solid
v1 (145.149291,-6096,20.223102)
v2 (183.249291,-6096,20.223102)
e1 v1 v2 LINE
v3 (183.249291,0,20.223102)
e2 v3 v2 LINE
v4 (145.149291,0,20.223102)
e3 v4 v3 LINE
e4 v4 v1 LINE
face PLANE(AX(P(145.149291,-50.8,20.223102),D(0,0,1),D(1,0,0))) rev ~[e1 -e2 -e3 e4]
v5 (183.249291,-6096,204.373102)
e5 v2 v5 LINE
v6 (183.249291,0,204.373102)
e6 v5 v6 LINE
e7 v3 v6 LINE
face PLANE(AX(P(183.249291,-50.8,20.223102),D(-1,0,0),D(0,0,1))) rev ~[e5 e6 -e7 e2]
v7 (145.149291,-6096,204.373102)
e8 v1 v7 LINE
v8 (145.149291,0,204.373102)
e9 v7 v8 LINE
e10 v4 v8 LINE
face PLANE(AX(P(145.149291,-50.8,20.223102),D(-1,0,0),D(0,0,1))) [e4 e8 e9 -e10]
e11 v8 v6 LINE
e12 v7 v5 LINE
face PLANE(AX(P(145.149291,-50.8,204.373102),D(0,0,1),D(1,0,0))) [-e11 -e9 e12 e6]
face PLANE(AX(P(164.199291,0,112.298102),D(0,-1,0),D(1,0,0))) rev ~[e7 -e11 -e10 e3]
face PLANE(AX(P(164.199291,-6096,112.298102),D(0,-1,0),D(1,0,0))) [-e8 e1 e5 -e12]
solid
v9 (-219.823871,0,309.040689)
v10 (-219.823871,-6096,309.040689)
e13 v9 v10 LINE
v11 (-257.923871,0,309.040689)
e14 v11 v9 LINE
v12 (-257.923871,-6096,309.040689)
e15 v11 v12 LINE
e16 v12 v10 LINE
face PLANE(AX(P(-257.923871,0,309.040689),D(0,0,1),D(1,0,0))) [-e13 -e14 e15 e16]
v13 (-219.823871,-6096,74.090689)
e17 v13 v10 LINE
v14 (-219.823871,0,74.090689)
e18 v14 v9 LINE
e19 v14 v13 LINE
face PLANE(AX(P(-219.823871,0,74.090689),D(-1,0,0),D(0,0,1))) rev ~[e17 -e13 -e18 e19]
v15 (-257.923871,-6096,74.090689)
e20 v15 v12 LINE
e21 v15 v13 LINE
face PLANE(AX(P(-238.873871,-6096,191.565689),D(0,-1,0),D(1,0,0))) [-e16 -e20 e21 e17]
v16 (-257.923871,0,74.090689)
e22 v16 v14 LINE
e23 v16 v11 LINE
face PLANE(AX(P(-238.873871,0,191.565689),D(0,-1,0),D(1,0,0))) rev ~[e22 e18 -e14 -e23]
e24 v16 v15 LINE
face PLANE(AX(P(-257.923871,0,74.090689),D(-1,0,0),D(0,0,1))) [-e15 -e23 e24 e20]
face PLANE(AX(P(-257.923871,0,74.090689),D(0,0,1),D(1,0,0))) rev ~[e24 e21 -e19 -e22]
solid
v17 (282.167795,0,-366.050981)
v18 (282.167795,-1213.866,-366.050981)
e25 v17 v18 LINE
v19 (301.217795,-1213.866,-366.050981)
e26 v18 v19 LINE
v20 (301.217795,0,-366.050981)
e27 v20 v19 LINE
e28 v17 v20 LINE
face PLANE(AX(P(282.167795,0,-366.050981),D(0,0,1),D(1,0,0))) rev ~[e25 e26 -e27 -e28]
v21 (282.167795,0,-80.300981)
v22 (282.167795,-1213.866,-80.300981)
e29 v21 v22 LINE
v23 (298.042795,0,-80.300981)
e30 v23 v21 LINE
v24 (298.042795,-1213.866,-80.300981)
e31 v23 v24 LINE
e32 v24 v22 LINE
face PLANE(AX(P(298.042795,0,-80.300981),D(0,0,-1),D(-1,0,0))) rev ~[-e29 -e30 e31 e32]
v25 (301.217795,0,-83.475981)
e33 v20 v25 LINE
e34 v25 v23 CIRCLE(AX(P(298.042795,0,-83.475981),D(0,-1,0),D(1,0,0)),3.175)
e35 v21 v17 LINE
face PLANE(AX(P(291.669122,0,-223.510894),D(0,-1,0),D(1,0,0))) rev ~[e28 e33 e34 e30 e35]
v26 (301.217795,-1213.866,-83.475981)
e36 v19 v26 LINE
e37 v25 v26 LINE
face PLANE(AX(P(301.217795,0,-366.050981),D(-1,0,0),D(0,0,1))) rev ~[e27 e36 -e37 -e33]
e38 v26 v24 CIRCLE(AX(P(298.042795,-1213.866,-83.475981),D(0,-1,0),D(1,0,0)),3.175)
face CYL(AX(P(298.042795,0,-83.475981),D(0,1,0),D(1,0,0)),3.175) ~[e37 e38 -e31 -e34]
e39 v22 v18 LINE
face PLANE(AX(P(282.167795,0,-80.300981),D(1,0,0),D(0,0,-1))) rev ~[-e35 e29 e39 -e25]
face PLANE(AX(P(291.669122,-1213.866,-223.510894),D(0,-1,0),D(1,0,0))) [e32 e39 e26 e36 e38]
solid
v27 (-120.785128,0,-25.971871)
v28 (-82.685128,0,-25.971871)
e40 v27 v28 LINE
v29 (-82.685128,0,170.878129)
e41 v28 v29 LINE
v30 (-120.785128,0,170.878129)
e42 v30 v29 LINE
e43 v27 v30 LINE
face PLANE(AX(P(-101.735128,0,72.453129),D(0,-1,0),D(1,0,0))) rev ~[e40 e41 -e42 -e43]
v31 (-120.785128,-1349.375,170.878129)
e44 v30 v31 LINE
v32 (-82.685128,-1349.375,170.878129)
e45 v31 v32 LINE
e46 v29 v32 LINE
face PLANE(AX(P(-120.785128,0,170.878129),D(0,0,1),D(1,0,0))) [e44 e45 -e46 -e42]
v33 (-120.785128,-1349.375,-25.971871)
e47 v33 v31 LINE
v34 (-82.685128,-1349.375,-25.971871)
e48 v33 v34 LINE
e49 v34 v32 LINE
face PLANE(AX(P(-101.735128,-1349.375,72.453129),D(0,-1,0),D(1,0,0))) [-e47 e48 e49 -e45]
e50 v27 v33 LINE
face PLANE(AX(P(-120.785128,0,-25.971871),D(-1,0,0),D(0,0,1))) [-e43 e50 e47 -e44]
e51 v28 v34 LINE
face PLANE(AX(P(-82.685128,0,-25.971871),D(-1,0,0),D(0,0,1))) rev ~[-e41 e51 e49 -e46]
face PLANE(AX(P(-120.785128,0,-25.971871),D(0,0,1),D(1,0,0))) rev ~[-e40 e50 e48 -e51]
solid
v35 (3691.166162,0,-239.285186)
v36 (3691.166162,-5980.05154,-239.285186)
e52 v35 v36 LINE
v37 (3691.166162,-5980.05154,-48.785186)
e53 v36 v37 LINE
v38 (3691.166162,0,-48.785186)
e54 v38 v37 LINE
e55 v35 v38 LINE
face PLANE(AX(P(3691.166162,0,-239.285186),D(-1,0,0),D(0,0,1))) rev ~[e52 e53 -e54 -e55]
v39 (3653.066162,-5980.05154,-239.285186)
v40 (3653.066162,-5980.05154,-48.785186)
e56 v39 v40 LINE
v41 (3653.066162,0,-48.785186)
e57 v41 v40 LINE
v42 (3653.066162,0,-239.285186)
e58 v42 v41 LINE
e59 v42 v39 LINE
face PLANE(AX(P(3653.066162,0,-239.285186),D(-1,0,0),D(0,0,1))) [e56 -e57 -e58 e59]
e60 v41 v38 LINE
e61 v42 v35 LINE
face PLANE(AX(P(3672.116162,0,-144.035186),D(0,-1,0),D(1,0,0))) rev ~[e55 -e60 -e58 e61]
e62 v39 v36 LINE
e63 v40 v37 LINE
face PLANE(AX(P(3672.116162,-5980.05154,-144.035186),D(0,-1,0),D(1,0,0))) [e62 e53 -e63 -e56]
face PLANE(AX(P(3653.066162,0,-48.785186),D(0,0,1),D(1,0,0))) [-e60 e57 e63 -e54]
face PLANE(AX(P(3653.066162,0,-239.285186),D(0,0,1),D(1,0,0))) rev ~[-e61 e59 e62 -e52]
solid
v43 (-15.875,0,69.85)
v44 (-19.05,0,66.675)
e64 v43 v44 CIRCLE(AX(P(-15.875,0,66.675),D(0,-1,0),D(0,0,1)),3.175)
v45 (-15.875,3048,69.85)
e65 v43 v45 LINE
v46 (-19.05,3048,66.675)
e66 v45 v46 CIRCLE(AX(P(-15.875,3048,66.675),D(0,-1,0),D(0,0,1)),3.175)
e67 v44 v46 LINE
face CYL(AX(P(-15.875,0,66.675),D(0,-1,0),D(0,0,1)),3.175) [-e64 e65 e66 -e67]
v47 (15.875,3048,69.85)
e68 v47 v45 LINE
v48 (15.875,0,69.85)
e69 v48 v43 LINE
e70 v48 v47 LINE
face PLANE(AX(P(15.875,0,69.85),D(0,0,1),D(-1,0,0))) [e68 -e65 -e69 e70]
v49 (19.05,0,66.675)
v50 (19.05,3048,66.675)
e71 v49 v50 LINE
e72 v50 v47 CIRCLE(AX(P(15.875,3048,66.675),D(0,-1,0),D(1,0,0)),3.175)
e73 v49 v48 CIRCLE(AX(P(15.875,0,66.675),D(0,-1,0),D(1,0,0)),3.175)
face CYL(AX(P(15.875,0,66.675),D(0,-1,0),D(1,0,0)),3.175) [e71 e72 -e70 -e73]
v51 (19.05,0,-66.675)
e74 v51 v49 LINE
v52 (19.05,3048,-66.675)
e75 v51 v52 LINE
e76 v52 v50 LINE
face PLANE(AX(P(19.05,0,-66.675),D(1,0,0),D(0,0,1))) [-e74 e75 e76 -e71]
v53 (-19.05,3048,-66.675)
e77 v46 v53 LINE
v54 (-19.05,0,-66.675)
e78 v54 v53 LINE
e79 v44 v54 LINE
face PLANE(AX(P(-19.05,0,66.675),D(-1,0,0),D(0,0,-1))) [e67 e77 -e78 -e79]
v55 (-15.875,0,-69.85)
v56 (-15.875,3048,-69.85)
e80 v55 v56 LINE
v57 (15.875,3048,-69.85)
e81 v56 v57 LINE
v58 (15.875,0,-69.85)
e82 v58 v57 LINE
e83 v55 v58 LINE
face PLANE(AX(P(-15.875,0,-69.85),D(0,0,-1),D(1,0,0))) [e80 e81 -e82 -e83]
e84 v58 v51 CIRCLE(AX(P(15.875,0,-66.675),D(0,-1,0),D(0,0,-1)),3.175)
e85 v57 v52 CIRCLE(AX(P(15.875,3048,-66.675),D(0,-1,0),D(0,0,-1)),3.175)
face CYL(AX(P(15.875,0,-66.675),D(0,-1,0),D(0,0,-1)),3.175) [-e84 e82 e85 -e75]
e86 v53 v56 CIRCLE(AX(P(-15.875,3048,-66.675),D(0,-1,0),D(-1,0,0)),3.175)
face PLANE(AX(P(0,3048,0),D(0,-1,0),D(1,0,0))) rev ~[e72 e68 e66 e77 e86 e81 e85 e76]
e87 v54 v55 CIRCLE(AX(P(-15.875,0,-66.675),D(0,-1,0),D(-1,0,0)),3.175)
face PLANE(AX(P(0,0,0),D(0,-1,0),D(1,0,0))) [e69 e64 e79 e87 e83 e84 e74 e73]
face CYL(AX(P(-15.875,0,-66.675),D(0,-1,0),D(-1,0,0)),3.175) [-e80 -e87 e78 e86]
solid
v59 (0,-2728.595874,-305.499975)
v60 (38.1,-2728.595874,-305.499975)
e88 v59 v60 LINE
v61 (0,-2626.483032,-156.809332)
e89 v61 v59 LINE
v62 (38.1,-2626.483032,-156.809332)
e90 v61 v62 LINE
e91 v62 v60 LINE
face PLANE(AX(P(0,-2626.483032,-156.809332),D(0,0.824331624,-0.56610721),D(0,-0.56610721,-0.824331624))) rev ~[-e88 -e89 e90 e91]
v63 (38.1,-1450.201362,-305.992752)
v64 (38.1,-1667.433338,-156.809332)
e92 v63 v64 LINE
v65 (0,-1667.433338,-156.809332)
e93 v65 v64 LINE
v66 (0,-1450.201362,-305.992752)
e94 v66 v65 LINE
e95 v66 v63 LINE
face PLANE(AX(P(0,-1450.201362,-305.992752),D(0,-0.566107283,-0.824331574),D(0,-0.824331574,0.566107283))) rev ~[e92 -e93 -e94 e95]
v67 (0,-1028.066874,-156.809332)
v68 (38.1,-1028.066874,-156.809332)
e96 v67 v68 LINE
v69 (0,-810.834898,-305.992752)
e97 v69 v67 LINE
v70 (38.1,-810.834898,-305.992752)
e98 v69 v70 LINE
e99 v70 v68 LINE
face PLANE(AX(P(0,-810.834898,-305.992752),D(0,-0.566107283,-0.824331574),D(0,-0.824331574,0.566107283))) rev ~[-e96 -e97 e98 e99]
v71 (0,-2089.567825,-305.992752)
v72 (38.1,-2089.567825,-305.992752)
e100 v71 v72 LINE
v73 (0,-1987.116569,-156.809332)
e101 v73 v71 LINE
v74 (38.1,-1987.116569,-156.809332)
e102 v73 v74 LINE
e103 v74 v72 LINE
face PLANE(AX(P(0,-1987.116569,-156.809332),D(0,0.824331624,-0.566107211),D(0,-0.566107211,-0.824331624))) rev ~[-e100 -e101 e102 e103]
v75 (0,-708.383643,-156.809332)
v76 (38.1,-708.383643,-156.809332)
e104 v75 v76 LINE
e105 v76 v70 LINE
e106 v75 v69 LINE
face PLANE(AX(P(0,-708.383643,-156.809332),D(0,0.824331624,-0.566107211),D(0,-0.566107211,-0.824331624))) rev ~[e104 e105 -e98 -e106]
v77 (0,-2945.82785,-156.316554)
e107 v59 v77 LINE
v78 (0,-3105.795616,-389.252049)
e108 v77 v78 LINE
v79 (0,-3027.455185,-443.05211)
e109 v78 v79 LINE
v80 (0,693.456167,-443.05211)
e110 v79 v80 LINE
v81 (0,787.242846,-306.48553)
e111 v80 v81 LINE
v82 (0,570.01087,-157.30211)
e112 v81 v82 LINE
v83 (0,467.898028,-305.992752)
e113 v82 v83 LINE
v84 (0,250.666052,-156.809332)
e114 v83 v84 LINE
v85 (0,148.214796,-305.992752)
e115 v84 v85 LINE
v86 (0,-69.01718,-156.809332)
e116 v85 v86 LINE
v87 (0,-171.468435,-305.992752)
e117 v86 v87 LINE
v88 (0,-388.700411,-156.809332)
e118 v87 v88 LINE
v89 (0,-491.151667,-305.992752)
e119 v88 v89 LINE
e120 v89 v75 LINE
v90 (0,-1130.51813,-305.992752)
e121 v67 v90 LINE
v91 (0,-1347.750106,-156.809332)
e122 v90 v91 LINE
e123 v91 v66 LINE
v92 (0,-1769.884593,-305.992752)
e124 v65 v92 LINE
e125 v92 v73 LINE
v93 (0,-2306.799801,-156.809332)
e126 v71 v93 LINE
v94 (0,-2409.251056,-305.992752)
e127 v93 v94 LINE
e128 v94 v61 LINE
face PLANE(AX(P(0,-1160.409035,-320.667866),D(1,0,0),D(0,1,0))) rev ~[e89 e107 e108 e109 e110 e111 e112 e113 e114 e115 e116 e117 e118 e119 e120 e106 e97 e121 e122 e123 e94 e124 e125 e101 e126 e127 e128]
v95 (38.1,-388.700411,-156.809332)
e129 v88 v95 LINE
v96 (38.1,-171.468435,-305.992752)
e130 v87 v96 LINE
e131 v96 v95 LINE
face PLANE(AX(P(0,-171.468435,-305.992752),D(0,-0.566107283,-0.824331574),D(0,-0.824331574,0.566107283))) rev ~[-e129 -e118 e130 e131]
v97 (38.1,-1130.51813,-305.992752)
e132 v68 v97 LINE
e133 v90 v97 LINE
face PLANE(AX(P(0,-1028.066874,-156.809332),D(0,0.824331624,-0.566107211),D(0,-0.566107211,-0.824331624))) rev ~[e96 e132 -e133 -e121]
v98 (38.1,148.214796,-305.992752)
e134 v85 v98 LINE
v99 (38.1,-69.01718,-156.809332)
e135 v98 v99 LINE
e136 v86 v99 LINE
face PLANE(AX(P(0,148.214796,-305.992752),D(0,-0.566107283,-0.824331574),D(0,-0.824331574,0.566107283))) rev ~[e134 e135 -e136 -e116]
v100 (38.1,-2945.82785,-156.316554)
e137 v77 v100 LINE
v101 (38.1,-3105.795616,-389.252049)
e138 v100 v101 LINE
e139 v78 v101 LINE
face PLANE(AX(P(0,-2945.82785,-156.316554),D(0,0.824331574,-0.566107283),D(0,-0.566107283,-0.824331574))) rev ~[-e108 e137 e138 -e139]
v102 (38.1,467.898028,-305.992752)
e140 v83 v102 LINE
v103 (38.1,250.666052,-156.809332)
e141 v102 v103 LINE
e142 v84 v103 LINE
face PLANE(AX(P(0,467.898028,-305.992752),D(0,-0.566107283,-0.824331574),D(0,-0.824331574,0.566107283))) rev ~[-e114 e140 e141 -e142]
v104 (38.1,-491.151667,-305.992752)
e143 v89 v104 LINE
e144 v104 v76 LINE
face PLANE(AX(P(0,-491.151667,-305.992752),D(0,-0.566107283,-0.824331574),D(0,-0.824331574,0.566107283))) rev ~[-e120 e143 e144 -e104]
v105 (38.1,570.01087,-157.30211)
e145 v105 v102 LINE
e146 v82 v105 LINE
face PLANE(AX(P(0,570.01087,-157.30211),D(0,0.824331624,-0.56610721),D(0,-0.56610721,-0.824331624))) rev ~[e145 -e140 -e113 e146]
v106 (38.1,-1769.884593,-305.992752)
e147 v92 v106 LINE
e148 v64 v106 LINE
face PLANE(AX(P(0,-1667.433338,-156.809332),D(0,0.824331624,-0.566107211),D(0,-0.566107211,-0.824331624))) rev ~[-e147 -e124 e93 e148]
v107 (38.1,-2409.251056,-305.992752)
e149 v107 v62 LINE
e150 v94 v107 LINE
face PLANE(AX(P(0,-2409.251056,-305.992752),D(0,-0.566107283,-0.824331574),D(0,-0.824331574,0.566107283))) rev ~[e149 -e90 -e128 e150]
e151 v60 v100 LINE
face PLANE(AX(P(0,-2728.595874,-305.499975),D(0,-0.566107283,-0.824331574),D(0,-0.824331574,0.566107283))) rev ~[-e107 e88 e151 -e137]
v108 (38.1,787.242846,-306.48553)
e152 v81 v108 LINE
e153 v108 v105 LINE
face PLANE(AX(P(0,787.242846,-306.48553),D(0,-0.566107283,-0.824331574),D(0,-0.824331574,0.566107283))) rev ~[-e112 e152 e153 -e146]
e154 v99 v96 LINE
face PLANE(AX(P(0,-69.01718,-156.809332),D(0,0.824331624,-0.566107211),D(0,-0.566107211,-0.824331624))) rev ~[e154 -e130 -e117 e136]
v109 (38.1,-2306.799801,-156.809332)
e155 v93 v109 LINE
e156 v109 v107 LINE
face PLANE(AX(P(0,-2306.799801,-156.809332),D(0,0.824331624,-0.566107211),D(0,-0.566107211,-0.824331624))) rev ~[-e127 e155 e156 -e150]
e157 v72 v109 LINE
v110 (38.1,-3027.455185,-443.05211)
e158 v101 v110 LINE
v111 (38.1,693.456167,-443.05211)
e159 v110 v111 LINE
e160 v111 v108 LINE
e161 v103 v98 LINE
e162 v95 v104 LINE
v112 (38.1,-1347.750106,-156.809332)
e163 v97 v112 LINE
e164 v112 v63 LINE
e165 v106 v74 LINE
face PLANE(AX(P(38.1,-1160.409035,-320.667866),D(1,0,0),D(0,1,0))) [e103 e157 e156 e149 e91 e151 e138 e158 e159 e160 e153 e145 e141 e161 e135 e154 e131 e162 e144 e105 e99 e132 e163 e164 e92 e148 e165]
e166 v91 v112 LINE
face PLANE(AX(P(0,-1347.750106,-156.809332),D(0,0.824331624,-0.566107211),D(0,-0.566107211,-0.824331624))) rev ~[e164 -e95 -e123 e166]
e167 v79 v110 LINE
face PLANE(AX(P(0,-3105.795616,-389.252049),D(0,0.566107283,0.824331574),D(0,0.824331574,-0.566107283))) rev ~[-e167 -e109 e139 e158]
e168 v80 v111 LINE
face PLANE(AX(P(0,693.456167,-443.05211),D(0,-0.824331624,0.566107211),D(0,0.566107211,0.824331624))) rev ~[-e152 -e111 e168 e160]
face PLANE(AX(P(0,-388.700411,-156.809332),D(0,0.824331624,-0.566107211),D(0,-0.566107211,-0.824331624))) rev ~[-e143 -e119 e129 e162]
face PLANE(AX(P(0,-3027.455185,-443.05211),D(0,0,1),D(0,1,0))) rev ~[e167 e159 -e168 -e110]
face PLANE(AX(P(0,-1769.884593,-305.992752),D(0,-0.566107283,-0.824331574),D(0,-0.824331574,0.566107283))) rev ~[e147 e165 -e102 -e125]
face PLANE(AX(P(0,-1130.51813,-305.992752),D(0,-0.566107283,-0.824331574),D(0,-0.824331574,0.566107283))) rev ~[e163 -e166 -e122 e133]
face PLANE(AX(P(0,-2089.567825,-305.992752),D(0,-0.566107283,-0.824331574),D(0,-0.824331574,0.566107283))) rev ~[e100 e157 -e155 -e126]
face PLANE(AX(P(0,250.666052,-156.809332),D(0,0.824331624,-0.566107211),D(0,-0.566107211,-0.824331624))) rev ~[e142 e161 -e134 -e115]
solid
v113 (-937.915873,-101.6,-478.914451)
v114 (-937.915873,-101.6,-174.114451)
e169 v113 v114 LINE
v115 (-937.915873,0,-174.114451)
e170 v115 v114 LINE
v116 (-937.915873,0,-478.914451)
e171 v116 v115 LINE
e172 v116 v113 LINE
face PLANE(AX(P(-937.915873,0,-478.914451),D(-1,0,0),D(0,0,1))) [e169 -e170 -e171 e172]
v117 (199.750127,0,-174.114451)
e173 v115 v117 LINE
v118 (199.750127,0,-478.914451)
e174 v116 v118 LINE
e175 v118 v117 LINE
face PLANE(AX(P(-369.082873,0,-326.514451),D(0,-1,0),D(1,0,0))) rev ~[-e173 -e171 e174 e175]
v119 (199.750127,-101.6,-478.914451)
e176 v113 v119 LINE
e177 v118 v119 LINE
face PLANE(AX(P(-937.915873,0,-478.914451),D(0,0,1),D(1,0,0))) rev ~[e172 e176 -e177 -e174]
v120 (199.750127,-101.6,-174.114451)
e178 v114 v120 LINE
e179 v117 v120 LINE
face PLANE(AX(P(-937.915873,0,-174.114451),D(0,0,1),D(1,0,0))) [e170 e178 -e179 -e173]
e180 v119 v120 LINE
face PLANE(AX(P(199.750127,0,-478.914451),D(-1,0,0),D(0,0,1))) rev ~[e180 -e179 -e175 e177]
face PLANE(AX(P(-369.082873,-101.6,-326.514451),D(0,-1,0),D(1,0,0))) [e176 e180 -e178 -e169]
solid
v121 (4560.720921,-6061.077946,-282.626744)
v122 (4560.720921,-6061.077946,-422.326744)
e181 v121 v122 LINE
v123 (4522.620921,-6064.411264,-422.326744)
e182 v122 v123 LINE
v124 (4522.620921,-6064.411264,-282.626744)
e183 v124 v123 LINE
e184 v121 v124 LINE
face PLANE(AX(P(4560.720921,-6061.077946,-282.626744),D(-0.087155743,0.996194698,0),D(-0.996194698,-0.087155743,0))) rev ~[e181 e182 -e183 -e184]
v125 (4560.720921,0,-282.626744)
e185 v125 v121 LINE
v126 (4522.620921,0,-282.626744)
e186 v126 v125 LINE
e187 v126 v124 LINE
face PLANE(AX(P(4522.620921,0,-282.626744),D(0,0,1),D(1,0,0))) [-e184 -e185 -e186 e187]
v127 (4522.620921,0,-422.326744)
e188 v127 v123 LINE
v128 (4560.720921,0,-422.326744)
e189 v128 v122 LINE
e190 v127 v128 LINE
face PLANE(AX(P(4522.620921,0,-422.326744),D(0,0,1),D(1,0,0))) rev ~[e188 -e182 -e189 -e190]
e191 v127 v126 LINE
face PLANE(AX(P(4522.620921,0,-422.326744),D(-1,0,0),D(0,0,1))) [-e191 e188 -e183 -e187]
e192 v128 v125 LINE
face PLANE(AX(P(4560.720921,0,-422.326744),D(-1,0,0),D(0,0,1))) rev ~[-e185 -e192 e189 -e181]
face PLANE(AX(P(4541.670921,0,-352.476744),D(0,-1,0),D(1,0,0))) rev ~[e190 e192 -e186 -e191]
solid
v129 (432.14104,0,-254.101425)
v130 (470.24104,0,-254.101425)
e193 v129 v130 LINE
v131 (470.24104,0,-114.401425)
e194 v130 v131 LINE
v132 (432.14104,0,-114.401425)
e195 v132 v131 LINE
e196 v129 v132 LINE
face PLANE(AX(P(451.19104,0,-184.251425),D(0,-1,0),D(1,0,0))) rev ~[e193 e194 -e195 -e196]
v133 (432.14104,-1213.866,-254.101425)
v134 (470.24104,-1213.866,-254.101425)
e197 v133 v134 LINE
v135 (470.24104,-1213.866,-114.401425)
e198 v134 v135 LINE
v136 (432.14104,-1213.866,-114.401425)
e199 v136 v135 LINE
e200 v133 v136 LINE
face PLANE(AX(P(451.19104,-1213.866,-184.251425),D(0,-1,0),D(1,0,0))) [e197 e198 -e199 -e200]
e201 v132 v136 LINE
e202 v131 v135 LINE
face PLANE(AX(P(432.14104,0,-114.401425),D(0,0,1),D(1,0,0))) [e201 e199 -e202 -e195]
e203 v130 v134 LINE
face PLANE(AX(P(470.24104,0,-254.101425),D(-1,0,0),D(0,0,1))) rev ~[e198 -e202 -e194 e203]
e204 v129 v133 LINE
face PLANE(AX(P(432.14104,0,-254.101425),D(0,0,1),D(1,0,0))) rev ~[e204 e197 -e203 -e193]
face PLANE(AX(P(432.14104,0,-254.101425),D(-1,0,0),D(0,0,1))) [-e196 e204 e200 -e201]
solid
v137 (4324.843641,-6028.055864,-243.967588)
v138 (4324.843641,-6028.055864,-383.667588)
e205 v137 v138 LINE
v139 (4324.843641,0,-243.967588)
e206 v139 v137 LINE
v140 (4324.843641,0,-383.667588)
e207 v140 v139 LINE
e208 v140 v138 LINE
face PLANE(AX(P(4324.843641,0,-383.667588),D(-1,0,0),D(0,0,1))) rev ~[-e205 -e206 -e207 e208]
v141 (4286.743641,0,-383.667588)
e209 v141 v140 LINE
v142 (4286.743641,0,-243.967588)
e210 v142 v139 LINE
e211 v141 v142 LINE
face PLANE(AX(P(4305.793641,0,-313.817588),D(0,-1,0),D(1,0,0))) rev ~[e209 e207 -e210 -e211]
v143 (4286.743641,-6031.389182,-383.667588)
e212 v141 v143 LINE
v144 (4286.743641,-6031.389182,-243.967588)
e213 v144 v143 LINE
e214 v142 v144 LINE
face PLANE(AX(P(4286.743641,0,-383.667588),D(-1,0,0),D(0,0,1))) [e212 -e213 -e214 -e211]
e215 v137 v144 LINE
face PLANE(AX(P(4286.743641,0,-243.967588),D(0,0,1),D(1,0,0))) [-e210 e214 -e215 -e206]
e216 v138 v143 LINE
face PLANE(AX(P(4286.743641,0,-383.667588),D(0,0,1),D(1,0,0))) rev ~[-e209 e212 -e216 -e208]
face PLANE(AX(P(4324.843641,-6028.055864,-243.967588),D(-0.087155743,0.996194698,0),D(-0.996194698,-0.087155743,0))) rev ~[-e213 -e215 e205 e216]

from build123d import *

# Parameters (mm, degrees)
F1_DEPTH  = 3048
F2_W      = 38.1
F2_H      = 184.15
F3_DEPTH  = 50.8
F4_DEPTH  = 6045.2
F5_W      = 38.1
F5_H      = 234.95
F6_DEPTH  = 6096
F7_W      = 139.7
F7_H      = 19.05
F8_DEPTH  = 1137.666
F9_W      = 139.7
F9_H      = 19.05
F11_DEPTH = 1219.2
F17_W     = 38.1
F17_H     = 196.85
F18_DEPTH = 1349.375
F20_DEPTH = 38.1
F21_W     = 38.1
F21_H     = 139.7
F22_DEPTH = 1213.866
F24_DEPTH = 1213.866
F26_W     = 3048
F26_H     = 4572
F27_DEPTH = 152.4
F29_W     = 38.1
F29_H     = 190.5
F30_DEPTH = 5980.05154
F31_W     = 38.1
F31_H     = 139.7
F32_DEPTH = 6066.1558636
F34_DEPTH = 152.4
F35_W     = 38.1
F35_H     = 139.7
F36_DEPTH = 6111.8779464
F38_DEPTH = 152.4
F39_W     = 1137.666
F39_H     = 304.8
F40_DEPTH = 101.6


with BuildPart() as f1:
    # F0 (on Front) → F1 (new body)
    with BuildSketch(Plane.XZ):
        with BuildLine():
            Line((15.875, 69.85), (-15.875, 69.85))
            ThreePointArc((-15.875, 69.85), (-18.1200640303, 68.9200640303), (-19.05, 66.675))
            Line((-19.05, 66.675), (-19.05, -66.675))
            ThreePointArc((-19.05, -66.675), (-18.1200640303, -68.9200640303), (-15.875, -69.85))
            Line((-15.875, -69.85), (15.875, -69.85))
            ThreePointArc((15.875, -69.85), (18.1200640303, -68.9200640303), (19.05, -66.675))
            Line((19.05, -66.675), (19.05, 66.675))
            ThreePointArc((19.05, 66.675), (18.1200640303, 68.9200640303), (15.875, 69.85))
        make_face()
    extrude(amount=-F1_DEPTH)


with BuildPart() as f3:
    # F2 (on Front) → F3 (new body)
    with BuildSketch(Plane.XZ):
        with Locations((164.1992905617, 112.298101601)):
            Rectangle(F2_W, F2_H)
    extrude(amount=F3_DEPTH)

    # F4 (add): a face of the model
    f4_faces = [f3.faces().sort_by_distance(p)[0] for p in [
        (164.1992905617, -50.8, 112.298101601),
    ]]
    extrude(f4_faces, amount=F4_DEPTH)


with BuildPart() as f6:
    # F5 (on Front) → F6 (new body)
    with BuildSketch(Plane.XZ):
        with Locations((-238.8738712788, 191.5656894207)):
            Rectangle(F5_W, F5_H)
    extrude(amount=F6_DEPTH)


with BuildPart() as f8:
    # F7 (on Front) → F8 (new body)
    with BuildSketch(Plane.XZ):
        with Locations((262.851086998, 128.6662210464)):
            Rectangle(F7_W, F7_H)
    extrude(amount=F8_DEPTH)

    # F9 (on face) → F11 (join)
    with BuildSketch(Plane.XZ.offset(1137.666)):
        with Locations((262.851086998, 128.6662210464)):
            Rectangle(F9_W, F9_H)
    extrude(amount=-F11_DEPTH)


with BuildPart() as f12_1:
    # F12: copy of F8
    add(f8.part)


with BuildPart() as f13_1:
    # F13: copy of F8
    add(f8.part)


with BuildPart() as f18:
    # F17 (on Front) → F18 (new body)
    with BuildSketch(Plane.XZ):
        with Locations((-101.7351278543, 72.4531291306)):
            Rectangle(F17_W, F17_H)
    extrude(amount=F18_DEPTH)


with BuildPart() as f20:
    # F19 (on Right) → F20 (new body)
    with BuildSketch(Plane.YZ):
        Polygon((-3027.4551845205, -443.0521097511), (693.4561667744, -443.0521097511), (787.2428459828, -306.4855299511), (570.0108699828, -157.3021097511), (467.8980279751, -305.9927523136), (250.6660519751, -156.8093321136), (148.2147963751, -305.9927523136), (-69.0171796249, -156.8093321136), (-171.4684352249, -305.9927523136), (-388.7004112249, -156.8093321136), (-491.1516668249, -305.9927523136), (-708.3836428249, -156.8093321136), (-810.8348984249, -305.9927523136), (-1028.0668744249, -156.8093321136), (-1130.5181300249, -305.9927523136), (-1347.7501060249, -156.8093321136), (-1450.2013616249, -305.9927523136), (-1667.4333376249, -156.8093321136), (-1769.8845932249, -305.9927523136), (-1987.1165692249, -156.8093321136), (-2089.5678248249, -305.9927523136), (-2306.7998008249, -156.8093321136), (-2409.2510564249, -305.9927523136), (-2626.4830324249, -156.8093321136), (-2728.5958744326, -305.4999746762), (-2945.8278504326, -156.3165544762), (-3037.4947721797, -289.796444656), (-3105.7956158343, -389.2520491037), align=None)
    extrude(amount=F20_DEPTH)


with BuildPart() as f22:
    # F21 (on Front) → F22 (new body)
    with BuildSketch(Plane.XZ):
        with Locations((451.1910399914, -184.2514254093)):
            Rectangle(F21_W, F21_H)
    extrude(amount=F22_DEPTH)


with BuildPart() as f24:
    # F23 (on Front) → F24 (new body)
    with BuildSketch(Plane.XZ):
        with BuildLine():
            Line((298.0427954674, -80.3009805679), (282.1677954674, -80.3009805679))
            Line((282.1677954674, -80.3009805679), (282.1677954674, -366.0509805679))
            Line((282.1677954674, -366.0509805679), (301.2177954674, -366.0509805679))
            Line((301.2177954674, -366.0509805679), (301.2177954674, -83.4759805679))
            ThreePointArc((301.2177954674, -83.4759805679), (300.2878594976, -81.2309165377), (298.0427954674, -80.3009805679))
        make_face()
    extrude(amount=F24_DEPTH)


with BuildPart() as f27:
    # F26 (on Front) → F27 (new body)
    with BuildSketch(Plane.XZ):
        with Locations((-3768.133808136, 87.837682724)):
            Rectangle(F26_W, F26_H)
    extrude(amount=F27_DEPTH)


with BuildPart() as f30:
    # F29 (on Front) → F30 (new body)
    with BuildSketch(Plane.XZ):
        with Locations((3672.1161624908, -144.0351859331)):
            Rectangle(F29_W, F29_H)
    extrude(amount=F30_DEPTH)


with BuildPart() as f32:
    # F31 (on Front) → F32 (new body)
    with BuildSketch(Plane.XZ):
        with Locations((4305.7936408997, -313.8175882339)):
            Rectangle(F31_W, F31_H)
    extrude(amount=F32_DEPTH)

    # F33 (on face) → F34 (cut)
    with BuildSketch(Plane.XY.offset(-243.9675882339)):
        Polygon((4324.8436408997, -6066.1558636), (4324.8436408997, -6028.0558636), (4286.7436408997, -6031.3891816803), (4286.7436408997, -6066.1558636), align=None)
    extrude(amount=-F34_DEPTH, mode=Mode.SUBTRACT)


with BuildPart() as f36:
    # F35 (on Front) → F36 (new body)
    with BuildSketch(Plane.XZ):
        with Locations((4541.6709205627, -352.4767436028)):
            Rectangle(F35_W, F35_H)
    extrude(amount=F36_DEPTH)

    # F37 (on face) → F38 (cut)
    with BuildSketch(Plane.XY.offset(-282.6267436028)):
        Polygon((4560.7209205627, -6111.8779464), (4560.7209205627, -6061.0779464), (4522.6209205627, -6064.4112644803), (4522.6209205627, -6111.8779464), align=None)
    extrude(amount=-F38_DEPTH, mode=Mode.SUBTRACT)


with BuildPart() as f40:
    # F39 (on Front) → F40 (new body)
    with BuildSketch(Plane.XZ):
        with Locations((-369.0828725739, -326.5144508541)):
            Rectangle(F39_W, F39_H)
    extrude(amount=F40_DEPTH)


solid = Compound([f1.part, f3.part, f6.part, f18.part, f20.part, f22.part, f24.part, f30.part, f32.part, f36.part, f40.part])
